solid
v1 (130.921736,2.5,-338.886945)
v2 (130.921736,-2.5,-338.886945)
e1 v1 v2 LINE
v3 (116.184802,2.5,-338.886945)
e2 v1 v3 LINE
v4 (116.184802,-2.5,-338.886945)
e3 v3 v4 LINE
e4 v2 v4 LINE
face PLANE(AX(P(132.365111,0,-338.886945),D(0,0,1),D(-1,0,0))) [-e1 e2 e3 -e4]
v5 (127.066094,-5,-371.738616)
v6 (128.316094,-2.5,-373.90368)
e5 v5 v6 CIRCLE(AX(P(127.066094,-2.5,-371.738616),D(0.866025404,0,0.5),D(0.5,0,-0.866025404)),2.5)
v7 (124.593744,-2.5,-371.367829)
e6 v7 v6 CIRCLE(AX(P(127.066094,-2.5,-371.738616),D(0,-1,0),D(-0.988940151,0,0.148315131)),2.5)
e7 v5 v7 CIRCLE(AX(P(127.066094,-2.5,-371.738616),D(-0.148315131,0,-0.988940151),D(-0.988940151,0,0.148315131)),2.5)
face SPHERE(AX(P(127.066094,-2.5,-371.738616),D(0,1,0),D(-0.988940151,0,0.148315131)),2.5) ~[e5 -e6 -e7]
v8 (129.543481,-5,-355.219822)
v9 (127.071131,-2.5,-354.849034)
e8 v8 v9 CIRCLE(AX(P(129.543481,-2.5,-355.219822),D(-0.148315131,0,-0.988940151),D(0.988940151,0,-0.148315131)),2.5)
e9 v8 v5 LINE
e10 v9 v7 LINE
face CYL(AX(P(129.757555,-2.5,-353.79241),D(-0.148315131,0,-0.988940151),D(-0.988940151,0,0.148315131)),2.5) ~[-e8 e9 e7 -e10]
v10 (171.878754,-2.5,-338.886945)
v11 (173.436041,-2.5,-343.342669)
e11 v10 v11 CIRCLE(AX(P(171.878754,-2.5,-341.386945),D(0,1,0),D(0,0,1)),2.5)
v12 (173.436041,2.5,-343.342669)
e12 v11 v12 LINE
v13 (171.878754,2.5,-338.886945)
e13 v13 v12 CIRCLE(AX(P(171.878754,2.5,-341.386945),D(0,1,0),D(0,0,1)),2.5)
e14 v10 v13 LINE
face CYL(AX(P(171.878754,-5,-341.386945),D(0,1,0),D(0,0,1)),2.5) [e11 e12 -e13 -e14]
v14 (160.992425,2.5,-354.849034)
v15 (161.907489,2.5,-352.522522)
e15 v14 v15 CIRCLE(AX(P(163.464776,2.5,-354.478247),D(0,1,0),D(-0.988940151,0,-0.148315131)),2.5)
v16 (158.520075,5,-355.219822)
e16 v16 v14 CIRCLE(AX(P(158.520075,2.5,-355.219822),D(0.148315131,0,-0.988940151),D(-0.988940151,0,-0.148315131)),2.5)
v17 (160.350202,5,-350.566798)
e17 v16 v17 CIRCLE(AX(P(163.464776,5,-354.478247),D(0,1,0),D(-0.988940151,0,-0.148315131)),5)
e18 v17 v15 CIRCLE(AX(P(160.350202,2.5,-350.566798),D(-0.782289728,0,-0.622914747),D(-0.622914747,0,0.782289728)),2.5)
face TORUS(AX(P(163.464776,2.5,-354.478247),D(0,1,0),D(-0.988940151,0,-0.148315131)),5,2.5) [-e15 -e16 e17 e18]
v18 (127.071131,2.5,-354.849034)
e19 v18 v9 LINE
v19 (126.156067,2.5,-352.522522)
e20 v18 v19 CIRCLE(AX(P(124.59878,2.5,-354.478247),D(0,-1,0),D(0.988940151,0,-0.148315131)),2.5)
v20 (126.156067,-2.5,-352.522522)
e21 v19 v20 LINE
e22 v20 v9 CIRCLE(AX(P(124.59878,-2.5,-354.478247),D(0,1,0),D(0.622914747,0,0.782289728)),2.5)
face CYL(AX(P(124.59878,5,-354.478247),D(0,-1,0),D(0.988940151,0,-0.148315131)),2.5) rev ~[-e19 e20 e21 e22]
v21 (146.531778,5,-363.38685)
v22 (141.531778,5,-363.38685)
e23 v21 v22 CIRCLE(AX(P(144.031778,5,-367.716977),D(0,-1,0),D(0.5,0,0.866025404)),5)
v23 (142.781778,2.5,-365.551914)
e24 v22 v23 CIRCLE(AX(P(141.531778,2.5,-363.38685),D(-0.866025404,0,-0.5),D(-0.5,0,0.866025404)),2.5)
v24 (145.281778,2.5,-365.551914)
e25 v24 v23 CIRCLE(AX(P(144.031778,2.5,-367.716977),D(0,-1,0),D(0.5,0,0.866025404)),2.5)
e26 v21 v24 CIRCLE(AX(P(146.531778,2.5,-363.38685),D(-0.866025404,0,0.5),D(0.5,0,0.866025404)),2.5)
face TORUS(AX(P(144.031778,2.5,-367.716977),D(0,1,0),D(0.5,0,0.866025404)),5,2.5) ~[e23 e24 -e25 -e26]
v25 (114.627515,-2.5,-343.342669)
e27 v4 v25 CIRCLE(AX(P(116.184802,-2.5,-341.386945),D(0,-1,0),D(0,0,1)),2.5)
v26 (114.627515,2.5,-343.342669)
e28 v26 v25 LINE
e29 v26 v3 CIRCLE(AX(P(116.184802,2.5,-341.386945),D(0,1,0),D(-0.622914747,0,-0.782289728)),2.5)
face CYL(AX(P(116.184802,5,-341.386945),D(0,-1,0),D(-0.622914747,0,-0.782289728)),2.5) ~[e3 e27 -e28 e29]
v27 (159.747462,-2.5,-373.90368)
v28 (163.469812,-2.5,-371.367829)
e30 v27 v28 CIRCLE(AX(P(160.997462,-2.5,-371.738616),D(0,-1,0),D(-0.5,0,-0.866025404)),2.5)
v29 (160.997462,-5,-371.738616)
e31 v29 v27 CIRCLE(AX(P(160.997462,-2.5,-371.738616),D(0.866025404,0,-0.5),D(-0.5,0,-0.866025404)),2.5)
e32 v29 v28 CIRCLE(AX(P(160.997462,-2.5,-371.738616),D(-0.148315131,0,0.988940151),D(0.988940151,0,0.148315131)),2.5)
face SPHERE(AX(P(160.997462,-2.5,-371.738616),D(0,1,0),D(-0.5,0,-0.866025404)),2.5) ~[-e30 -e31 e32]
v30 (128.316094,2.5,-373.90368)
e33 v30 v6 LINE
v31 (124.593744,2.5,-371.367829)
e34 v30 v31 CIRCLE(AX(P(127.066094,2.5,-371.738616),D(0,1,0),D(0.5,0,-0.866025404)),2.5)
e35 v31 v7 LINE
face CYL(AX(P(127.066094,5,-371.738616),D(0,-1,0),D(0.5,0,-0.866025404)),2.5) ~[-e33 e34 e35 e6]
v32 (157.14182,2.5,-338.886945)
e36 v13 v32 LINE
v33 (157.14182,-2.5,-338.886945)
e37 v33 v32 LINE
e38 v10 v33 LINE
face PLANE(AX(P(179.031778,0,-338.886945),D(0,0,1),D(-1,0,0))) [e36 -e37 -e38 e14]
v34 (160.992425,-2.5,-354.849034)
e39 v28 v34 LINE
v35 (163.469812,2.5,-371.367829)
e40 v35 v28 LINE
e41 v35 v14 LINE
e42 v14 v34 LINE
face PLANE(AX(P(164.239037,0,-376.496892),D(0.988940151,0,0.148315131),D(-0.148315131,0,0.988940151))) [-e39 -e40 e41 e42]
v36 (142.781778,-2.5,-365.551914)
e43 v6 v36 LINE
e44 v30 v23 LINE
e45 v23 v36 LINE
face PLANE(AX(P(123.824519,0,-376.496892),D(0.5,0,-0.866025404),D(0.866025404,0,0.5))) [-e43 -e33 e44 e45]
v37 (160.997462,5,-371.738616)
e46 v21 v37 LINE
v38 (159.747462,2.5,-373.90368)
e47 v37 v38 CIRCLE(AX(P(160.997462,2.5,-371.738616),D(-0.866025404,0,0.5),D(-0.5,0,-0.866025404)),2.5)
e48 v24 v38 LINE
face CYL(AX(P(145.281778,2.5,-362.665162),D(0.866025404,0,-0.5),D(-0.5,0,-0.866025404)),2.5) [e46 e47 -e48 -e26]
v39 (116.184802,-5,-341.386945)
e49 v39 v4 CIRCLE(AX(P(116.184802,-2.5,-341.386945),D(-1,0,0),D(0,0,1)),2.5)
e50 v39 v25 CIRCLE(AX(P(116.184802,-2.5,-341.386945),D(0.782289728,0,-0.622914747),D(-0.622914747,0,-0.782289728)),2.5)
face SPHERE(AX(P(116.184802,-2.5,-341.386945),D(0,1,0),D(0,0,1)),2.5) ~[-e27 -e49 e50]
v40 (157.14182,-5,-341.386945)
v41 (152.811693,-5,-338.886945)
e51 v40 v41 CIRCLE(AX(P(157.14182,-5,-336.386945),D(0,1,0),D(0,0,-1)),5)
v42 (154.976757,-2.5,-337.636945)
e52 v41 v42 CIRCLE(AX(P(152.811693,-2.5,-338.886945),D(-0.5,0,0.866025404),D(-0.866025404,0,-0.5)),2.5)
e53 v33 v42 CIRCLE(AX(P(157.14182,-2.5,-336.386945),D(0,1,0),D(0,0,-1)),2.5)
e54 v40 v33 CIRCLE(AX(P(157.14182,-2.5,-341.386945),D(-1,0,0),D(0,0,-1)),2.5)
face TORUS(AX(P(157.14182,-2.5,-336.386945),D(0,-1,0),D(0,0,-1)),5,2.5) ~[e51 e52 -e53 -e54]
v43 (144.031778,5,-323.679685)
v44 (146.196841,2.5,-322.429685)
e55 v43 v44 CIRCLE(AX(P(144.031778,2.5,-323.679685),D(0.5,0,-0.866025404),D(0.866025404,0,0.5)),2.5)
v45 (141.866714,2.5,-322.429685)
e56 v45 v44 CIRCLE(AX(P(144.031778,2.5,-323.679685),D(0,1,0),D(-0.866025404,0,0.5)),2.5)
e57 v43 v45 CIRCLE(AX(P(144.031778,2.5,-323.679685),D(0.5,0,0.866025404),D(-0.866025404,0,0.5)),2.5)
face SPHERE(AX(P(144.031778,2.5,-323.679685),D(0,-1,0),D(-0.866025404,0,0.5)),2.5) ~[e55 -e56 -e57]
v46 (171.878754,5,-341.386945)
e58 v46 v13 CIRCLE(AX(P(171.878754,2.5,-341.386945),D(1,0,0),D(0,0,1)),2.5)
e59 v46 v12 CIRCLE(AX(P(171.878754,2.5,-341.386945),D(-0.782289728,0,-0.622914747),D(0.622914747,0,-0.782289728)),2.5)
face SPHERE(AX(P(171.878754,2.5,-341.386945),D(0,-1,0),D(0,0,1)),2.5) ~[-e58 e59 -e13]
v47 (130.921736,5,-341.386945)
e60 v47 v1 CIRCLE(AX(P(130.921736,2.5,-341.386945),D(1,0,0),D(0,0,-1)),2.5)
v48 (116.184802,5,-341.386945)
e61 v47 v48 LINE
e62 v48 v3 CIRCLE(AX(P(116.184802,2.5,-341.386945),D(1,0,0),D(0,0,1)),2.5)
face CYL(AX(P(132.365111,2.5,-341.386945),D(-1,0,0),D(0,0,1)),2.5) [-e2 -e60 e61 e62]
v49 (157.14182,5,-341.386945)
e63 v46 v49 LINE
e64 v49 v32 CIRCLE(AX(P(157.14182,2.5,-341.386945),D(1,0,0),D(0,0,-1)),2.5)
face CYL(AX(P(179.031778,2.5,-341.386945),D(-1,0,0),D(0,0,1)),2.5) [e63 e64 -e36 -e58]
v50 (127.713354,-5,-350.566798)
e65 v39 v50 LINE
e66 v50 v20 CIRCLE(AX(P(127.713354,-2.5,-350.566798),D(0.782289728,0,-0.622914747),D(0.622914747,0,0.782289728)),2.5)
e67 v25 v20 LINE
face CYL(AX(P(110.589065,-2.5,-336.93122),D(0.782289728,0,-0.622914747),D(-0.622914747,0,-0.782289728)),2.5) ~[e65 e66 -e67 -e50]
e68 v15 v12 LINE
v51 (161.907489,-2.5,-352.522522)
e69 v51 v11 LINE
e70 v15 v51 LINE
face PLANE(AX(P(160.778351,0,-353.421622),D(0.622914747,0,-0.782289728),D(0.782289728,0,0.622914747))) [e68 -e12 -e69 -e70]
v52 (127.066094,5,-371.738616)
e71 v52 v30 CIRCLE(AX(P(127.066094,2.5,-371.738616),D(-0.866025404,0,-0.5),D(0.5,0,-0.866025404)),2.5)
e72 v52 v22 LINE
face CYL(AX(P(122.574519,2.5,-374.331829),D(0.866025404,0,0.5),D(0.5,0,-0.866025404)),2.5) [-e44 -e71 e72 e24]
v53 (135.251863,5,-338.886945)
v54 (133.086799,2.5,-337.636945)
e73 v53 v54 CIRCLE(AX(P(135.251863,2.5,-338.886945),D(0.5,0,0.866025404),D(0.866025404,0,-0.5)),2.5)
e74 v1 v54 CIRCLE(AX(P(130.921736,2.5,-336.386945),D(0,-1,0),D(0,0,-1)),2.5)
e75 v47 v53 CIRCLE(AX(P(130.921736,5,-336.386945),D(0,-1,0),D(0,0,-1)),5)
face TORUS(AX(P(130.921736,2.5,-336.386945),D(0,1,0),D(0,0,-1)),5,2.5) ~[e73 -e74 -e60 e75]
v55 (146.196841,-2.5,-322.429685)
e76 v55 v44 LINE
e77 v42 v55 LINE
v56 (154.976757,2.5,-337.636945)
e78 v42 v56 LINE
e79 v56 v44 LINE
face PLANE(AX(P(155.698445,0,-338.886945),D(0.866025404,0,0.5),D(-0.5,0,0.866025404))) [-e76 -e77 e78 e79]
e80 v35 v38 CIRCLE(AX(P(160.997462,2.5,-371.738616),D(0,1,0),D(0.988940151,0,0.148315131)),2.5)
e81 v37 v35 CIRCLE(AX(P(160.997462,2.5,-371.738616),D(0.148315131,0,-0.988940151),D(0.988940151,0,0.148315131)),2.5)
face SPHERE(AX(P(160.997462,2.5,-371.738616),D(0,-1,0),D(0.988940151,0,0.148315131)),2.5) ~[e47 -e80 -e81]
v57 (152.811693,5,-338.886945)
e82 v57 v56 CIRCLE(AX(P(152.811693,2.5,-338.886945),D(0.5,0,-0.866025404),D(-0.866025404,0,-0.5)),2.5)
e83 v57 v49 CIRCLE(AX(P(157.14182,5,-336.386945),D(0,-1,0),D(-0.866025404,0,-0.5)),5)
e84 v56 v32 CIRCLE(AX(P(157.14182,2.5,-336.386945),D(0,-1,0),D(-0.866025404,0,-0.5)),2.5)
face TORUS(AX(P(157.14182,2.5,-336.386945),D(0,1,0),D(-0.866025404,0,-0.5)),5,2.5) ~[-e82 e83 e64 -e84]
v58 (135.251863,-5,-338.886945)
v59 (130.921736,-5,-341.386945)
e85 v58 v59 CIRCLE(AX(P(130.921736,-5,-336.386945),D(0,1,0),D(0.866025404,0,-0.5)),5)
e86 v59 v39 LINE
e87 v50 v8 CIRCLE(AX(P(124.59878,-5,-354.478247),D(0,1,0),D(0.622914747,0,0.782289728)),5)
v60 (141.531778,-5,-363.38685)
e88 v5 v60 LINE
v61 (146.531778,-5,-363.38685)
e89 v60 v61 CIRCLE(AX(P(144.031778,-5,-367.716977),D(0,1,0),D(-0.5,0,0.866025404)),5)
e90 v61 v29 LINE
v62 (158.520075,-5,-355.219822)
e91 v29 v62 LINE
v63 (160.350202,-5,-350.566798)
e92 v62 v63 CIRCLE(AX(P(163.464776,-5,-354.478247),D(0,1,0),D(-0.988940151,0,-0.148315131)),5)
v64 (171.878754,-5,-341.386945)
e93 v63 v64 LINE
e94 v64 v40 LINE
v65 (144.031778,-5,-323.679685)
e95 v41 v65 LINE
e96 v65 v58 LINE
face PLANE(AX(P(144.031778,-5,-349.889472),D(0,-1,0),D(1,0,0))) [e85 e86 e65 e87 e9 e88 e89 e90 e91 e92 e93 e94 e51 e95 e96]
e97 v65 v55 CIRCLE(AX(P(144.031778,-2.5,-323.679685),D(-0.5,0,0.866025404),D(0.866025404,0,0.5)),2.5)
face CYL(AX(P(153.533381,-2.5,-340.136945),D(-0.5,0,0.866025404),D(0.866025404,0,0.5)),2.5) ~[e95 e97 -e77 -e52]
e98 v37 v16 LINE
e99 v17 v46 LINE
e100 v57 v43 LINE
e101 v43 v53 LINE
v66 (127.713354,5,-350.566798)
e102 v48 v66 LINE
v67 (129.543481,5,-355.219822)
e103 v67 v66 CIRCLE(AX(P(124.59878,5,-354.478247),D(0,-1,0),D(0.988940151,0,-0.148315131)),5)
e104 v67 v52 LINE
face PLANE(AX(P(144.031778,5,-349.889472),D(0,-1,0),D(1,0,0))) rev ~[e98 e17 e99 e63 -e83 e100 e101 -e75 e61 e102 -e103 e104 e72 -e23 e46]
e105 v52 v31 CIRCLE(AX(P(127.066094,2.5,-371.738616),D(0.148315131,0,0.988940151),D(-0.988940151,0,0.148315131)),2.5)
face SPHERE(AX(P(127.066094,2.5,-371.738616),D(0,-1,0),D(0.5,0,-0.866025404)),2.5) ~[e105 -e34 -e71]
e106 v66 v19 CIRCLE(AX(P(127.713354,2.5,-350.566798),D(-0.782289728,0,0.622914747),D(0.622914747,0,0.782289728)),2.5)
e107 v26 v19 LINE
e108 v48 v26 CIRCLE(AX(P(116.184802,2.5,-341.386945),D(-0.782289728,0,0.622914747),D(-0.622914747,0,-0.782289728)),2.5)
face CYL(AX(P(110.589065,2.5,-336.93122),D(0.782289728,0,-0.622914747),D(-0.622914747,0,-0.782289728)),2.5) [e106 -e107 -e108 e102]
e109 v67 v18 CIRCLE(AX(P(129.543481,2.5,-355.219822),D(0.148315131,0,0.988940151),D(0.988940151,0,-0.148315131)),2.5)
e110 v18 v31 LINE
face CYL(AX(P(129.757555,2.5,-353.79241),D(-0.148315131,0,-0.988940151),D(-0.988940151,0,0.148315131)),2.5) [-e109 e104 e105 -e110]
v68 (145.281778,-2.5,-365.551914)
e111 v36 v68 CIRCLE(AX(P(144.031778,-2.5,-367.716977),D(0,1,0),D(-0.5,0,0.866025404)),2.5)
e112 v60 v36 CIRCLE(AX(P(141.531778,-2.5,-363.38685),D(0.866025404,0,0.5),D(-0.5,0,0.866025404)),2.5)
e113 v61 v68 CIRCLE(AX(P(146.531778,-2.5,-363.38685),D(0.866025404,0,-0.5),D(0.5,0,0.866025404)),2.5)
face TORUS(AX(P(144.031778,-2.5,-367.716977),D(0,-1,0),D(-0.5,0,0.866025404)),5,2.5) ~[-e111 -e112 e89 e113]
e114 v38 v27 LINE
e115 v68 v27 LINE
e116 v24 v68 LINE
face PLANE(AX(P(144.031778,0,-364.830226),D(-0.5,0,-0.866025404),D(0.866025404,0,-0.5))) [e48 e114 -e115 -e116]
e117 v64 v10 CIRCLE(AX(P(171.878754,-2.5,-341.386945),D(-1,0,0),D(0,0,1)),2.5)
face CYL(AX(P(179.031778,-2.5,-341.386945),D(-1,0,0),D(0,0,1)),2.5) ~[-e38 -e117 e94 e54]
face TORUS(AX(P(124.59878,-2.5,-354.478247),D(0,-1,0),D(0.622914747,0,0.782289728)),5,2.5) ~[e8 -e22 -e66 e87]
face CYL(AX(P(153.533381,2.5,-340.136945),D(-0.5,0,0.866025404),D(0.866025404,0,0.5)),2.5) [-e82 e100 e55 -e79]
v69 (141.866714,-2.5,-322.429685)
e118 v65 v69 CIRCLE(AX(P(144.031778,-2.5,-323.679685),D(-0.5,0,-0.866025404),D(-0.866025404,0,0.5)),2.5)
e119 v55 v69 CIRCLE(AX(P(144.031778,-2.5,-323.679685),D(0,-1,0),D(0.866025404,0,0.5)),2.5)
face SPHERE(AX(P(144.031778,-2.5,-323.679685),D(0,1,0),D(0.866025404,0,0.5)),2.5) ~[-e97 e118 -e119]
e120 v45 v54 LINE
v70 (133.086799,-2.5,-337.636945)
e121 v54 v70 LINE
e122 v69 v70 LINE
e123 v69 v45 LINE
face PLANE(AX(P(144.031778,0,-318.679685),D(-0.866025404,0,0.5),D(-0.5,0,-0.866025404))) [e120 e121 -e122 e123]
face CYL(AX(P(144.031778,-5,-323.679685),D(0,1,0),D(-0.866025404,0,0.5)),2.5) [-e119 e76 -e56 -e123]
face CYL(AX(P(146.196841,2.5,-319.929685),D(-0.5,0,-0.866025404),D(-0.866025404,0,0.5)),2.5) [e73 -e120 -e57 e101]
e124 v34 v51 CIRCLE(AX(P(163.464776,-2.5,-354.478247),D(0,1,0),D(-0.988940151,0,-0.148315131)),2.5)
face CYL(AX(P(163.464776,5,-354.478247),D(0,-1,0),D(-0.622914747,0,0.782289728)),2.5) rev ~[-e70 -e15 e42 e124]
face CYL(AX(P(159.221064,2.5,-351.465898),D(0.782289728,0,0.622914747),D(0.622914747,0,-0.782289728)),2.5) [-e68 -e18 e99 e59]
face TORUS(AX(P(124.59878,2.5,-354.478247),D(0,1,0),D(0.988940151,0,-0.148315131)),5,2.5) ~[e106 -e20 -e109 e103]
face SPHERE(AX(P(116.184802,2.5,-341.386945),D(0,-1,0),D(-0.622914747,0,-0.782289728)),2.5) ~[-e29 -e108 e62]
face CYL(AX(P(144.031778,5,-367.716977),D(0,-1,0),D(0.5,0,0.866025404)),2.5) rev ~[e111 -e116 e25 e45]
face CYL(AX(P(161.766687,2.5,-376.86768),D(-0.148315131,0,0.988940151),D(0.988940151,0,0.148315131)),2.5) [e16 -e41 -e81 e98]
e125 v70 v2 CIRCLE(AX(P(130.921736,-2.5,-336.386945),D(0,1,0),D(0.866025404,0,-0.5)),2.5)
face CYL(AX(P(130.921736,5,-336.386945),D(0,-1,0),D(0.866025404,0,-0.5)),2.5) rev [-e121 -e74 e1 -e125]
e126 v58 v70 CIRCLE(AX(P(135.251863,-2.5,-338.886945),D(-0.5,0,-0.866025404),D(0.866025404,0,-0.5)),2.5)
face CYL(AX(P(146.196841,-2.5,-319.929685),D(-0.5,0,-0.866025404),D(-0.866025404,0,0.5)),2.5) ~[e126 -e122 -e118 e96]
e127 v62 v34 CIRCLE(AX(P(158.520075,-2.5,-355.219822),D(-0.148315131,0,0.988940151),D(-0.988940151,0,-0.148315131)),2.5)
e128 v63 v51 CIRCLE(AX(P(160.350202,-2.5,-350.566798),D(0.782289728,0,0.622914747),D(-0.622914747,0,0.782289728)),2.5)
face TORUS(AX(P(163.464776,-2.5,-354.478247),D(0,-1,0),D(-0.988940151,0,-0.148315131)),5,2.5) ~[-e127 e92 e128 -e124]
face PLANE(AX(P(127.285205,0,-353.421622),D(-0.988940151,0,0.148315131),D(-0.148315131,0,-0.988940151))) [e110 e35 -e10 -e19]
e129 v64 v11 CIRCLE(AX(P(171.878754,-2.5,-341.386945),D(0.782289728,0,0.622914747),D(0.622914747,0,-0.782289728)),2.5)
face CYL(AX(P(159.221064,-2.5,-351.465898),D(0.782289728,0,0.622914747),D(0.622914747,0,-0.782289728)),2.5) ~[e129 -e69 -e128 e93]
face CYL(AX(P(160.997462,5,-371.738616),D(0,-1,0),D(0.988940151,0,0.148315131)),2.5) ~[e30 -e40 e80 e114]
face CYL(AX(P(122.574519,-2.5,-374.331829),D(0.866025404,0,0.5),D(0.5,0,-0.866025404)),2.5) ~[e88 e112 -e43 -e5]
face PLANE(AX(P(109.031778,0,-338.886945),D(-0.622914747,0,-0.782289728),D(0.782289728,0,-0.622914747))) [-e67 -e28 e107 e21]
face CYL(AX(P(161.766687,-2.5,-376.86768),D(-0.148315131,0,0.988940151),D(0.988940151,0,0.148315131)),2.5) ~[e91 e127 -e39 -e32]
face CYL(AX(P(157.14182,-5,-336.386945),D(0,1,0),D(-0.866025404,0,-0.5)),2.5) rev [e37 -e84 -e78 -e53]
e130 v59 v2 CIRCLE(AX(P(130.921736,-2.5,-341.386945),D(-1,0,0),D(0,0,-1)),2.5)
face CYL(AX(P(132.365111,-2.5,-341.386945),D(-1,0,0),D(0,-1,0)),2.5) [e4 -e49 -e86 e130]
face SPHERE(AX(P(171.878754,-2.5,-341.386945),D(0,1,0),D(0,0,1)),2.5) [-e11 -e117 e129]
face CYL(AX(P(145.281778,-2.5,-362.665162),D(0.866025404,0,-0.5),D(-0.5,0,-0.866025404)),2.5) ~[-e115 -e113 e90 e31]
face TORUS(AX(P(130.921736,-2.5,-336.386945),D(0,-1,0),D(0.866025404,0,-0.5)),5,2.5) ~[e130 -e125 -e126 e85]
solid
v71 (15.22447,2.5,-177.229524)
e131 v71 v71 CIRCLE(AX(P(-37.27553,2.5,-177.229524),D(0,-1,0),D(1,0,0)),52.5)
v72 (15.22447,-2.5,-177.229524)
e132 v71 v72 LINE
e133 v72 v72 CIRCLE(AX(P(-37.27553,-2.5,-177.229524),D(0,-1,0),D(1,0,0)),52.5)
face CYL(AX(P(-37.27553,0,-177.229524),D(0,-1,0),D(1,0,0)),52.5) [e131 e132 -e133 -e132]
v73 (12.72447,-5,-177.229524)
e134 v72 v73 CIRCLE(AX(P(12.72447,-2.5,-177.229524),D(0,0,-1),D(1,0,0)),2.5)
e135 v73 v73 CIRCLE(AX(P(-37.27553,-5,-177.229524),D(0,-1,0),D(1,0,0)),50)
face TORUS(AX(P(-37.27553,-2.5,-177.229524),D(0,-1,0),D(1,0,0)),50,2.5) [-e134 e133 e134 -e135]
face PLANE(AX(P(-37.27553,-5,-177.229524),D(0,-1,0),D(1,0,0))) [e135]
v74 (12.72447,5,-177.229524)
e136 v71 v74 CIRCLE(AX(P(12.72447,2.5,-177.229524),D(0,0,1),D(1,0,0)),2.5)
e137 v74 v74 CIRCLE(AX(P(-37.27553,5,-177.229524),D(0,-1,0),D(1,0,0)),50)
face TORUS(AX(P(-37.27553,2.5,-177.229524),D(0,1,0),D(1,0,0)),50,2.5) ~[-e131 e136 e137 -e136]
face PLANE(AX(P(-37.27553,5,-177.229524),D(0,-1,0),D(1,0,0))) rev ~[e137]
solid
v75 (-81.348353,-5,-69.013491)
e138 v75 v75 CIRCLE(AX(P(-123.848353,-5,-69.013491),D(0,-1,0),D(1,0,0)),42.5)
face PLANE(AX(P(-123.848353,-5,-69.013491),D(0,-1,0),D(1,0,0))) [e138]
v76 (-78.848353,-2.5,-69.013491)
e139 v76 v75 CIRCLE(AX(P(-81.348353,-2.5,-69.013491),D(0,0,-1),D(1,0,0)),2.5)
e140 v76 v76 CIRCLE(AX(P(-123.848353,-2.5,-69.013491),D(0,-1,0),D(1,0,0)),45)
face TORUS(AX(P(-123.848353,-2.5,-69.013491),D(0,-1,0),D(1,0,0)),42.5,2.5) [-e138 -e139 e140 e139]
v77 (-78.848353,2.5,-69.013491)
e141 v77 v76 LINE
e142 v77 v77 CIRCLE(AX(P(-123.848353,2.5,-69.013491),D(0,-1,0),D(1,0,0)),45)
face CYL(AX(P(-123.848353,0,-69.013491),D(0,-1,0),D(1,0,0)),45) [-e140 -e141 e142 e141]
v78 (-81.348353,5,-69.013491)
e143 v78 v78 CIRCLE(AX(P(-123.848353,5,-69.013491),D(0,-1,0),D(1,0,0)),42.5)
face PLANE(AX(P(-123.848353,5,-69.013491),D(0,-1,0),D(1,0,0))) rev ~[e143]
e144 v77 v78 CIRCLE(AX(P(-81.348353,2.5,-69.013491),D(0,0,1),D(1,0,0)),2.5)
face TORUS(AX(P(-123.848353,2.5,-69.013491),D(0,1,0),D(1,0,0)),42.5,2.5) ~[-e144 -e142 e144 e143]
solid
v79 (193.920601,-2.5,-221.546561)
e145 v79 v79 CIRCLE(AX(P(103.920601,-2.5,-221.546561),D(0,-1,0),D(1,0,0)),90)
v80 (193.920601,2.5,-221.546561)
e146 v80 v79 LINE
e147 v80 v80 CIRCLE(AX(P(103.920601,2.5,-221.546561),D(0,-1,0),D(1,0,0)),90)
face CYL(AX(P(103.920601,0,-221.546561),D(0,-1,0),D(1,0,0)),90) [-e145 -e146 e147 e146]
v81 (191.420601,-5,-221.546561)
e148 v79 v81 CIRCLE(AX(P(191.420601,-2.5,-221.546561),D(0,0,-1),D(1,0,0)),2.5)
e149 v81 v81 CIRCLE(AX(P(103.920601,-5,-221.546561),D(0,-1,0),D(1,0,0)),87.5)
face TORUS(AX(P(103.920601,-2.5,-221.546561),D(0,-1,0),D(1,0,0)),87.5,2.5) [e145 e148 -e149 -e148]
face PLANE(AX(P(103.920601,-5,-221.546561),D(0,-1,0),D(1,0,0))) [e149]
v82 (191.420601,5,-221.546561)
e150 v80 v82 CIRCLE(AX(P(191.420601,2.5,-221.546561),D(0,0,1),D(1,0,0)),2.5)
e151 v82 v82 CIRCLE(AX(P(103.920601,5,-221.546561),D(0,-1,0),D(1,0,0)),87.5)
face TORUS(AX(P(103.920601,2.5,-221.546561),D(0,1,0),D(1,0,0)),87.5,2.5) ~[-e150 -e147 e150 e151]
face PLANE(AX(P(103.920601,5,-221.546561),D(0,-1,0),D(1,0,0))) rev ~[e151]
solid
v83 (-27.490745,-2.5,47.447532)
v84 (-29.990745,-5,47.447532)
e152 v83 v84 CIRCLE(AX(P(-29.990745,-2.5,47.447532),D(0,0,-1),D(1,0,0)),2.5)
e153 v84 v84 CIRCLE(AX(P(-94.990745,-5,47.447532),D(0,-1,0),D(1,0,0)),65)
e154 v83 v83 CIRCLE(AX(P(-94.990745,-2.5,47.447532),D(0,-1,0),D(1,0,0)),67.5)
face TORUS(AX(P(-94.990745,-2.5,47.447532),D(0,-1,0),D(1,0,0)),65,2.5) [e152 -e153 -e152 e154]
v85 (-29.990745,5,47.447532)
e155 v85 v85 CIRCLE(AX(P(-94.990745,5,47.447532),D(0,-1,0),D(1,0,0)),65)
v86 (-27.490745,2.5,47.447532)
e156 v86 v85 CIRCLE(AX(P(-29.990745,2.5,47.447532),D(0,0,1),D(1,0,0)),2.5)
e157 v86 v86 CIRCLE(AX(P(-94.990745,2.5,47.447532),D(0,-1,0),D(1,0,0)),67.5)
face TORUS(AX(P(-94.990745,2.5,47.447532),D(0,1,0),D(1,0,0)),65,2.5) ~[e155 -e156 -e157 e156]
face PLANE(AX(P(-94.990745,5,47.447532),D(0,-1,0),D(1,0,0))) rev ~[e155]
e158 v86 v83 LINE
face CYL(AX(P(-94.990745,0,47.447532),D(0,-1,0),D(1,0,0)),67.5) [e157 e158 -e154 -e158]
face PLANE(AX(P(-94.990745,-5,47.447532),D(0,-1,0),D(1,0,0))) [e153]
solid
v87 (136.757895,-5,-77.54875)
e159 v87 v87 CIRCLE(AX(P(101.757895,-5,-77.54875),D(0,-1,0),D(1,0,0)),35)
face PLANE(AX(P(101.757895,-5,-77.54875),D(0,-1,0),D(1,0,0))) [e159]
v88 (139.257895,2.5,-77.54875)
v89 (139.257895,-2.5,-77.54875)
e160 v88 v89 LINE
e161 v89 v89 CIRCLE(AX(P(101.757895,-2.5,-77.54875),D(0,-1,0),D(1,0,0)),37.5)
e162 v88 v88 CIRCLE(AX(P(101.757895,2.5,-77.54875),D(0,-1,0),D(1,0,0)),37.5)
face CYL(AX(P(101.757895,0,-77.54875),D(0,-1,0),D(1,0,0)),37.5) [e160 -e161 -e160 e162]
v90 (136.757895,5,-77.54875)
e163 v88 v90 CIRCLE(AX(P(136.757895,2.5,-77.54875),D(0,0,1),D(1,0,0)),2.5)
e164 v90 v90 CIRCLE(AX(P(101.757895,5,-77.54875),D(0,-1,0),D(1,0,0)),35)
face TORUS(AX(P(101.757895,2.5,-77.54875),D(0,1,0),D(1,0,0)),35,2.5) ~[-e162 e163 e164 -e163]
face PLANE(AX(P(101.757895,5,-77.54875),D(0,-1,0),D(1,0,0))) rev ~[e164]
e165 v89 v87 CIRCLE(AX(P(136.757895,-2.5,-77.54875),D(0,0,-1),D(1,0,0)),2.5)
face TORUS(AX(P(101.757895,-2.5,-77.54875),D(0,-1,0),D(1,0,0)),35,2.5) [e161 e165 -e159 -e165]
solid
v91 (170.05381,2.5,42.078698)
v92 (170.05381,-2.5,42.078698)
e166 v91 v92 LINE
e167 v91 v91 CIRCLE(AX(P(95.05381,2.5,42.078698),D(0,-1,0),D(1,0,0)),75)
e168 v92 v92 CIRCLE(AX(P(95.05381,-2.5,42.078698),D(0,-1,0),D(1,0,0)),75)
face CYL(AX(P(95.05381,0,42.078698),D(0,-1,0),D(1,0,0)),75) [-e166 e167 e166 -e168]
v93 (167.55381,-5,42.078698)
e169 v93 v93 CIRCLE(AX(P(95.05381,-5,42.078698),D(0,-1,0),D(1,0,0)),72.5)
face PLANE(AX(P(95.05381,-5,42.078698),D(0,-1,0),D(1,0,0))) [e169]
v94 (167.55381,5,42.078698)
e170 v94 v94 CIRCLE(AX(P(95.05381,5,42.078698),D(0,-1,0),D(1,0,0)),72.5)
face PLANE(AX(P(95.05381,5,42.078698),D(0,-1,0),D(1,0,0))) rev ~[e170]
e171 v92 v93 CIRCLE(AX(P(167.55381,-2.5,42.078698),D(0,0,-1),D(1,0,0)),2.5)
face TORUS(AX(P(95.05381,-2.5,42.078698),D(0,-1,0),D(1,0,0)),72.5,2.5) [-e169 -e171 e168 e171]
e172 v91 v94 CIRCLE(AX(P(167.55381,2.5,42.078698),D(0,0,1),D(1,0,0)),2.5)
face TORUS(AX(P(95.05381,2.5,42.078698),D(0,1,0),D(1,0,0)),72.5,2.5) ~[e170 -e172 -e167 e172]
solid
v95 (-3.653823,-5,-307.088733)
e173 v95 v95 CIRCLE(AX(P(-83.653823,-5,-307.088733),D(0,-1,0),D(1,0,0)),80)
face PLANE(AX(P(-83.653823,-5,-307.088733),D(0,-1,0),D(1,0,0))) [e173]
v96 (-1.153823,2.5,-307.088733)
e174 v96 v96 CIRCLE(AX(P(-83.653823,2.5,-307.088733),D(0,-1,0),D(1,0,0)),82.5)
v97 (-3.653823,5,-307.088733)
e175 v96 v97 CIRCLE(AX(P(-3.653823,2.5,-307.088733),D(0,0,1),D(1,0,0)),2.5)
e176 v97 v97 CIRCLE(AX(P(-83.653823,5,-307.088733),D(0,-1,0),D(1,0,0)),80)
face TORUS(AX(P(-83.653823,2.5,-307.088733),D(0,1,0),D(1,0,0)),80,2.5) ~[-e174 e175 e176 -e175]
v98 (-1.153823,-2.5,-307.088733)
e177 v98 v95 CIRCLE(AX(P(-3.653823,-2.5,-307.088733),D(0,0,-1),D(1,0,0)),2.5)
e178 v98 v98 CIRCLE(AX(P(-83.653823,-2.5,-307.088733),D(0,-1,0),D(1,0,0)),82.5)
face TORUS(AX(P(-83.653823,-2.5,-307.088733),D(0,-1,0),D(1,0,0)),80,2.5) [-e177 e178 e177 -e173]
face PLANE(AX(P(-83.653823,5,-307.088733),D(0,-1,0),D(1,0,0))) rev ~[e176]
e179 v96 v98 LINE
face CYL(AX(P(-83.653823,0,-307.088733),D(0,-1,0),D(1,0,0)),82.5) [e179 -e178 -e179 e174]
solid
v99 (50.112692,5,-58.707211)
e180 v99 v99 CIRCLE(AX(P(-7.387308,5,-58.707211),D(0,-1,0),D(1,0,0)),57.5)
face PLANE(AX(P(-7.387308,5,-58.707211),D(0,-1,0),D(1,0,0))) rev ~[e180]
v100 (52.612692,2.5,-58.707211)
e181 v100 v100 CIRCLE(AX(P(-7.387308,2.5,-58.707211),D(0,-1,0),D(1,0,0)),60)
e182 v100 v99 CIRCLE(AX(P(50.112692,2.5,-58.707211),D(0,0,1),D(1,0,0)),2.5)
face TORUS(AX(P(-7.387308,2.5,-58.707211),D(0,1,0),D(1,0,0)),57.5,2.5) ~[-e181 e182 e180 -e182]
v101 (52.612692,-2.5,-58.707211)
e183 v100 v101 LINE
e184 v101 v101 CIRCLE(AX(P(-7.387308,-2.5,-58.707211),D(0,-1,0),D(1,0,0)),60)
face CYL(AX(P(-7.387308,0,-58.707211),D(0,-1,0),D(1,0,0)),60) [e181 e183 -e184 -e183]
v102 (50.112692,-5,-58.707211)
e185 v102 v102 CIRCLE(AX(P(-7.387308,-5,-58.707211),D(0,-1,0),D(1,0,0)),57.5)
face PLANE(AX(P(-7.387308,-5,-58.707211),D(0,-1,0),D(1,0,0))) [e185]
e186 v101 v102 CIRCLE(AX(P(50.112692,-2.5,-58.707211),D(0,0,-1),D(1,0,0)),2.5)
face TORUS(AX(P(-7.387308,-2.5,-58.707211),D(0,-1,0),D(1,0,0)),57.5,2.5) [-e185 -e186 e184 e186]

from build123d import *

# Parameters (mm, degrees)
F0_R     = 67.5
F1_DEPTH = 5
F0_R_2   = 75
F0_R_3   = 45
F0_R_4   = 60
F0_R_5   = 37.5
F0_R_6   = 90
F0_R_7   = 52.5
F0_R_8   = 82.5
F2_R     = 2.5
F2_2_R   = 2.5
F2_3_R   = 2.5
F2_4_R   = 2.5
F2_5_R   = 2.5
F2_6_R   = 2.5
F2_7_R   = 2.5
F2_8_R   = 2.5
F2_9_R   = 2.5


with BuildPart() as f1:
    # F0 (on Front) → F1 (new body, symmetric)
    with BuildSketch(Plane.XZ):
        with Locations((-94.9907451868, 47.4475324154)):
            Circle(F0_R)
    extrude(amount=F1_DEPTH, both=True)

    # F2#7
    f2_7_edges = [f1.edges().sort_by_distance(p)[0] for p in [
        (-162.490745, -5, 47.447532),
        (-162.490745, 5, 47.447532),
    ]]
    fillet(f2_7_edges, radius=F2_7_R)


with BuildPart() as f1b:
    # F0 (on Front) → F1, piece 2 (new body, symmetric)
    with BuildSketch(Plane.XZ):
        with Locations((95.0538104838, 42.0786983039)):
            Circle(F0_R_2)
    extrude(amount=F1_DEPTH, both=True)

    # F2#6
    f2_6_edges = [f1b.edges().sort_by_distance(p)[0] for p in [
        (20.05381, -5, 42.078698),
        (20.05381, 5, 42.078698),
    ]]
    fillet(f2_6_edges, radius=F2_6_R)


with BuildPart() as f1c:
    # F0 (on Front) → F1, piece 3 (new body, symmetric)
    with BuildSketch(Plane.XZ):
        with Locations((-123.8483525813, -69.0134912729)):
            Circle(F0_R_3)
    extrude(amount=F1_DEPTH, both=True)

    # F2#8
    f2_8_edges = [f1c.edges().sort_by_distance(p)[0] for p in [
        (-168.848353, -5, -69.013491),
        (-168.848353, 5, -69.013491),
    ]]
    fillet(f2_8_edges, radius=F2_8_R)


with BuildPart() as f1d:
    # F0 (on Front) → F1, piece 4 (new body, symmetric)
    with BuildSketch(Plane.XZ):
        with Locations((-7.3873084038, -58.7072111666)):
            Circle(F0_R_4)
    extrude(amount=F1_DEPTH, both=True)

    # F2#4
    f2_4_edges = [f1d.edges().sort_by_distance(p)[0] for p in [
        (-67.387308, -5, -58.707211),
        (-67.387308, 5, -58.707211),
    ]]
    fillet(f2_4_edges, radius=F2_4_R)


with BuildPart() as f1e:
    # F0 (on Front) → F1, piece 5 (new body, symmetric)
    with BuildSketch(Plane.XZ):
        with Locations((101.7578945838, -77.5487500801)):
            Circle(F0_R_5)
    extrude(amount=F1_DEPTH, both=True)

    # F2#5
    f2_5_edges = [f1e.edges().sort_by_distance(p)[0] for p in [
        (64.257895, -5, -77.54875),
        (64.257895, 5, -77.54875),
    ]]
    fillet(f2_5_edges, radius=F2_5_R)


with BuildPart() as f1f:
    # F0 (on Front) → F1, piece 6 (new body, symmetric)
    with BuildSketch(Plane.XZ):
        with Locations((103.9206013083, -221.5465605259)):
            Circle(F0_R_6)
    extrude(amount=F1_DEPTH, both=True)

    # F2#2
    f2_2_edges = [f1f.edges().sort_by_distance(p)[0] for p in [
        (13.920601, -5, -221.546561),
        (13.920601, 5, -221.546561),
    ]]
    fillet(f2_2_edges, radius=F2_2_R)


with BuildPart() as f1g:
    # F0 (on Front) → F1, piece 7 (new body, symmetric)
    with BuildSketch(Plane.XZ):
        with Locations((-37.2755303979, -177.2295236588)):
            Circle(F0_R_7)
    extrude(amount=F1_DEPTH, both=True)

    # F2#3
    f2_3_edges = [f1g.edges().sort_by_distance(p)[0] for p in [
        (-89.77553, -5, -177.229524),
        (-89.77553, 5, -177.229524),
    ]]
    fillet(f2_3_edges, radius=F2_3_R)


with BuildPart() as f1h:
    # F0 (on Front) → F1, piece 8 (new body, symmetric)
    with BuildSketch(Plane.XZ):
        with Locations((-83.6538225412, -307.0887327194)):
            Circle(F0_R_8)
    extrude(amount=F1_DEPTH, both=True)

    # F2
    f2_edges = [f1h.edges().sort_by_distance(p)[0] for p in [
        (-166.153823, -5, -307.088733),
        (-166.153823, 5, -307.088733),
    ]]
    fillet(f2_edges, radius=F2_R)


with BuildPart() as f1i:
    # F0 (on Front) → F1, piece 9 (new body, symmetric)
    with BuildSketch(Plane.XZ):
        Polygon((144.0317779779, -318.6796853373), (132.3651113113, -338.8869447589), (109.0317779779, -338.8869447589), (127.2852049566, -353.4216221884), (123.8245185563, -376.4968923728), (144.0317779779, -364.8302257061), (164.2390373996, -376.4968923728), (160.7783509992, -353.4216221884), (179.0317779779, -338.8869447589), (155.6984446446, -338.8869447589), align=None)
    extrude(amount=F1_DEPTH, both=True)

    # F2#9
    f2_9_edges = [f1i.edges().sort_by_distance(p)[0] for p in [
        (167.365111, -5, -338.886945),
        (149.865111, -5, -328.783315),
        (138.198445, -5, -328.783315),
        (120.698445, -5, -338.886945),
        (118.158491, -5, -346.154283),
        (125.554862, -5, -364.959257),
        (133.928148, -5, -370.663559),
        (154.135408, -5, -370.663559),
        (162.508694, -5, -364.959257),
        (169.905064, -5, -346.154283),
        (144.031778, 0, -364.830226),
        (154.135408, 5, -370.663559),
        (164.239037, 0, -376.496892),
        (123.824519, 0, -376.496892),
        (133.928148, 5, -370.663559),
        (169.905064, 5, -346.154283),
        (179.031778, 0, -338.886945),
        (160.778351, 0, -353.421622),
        (162.508694, 5, -364.959257),
        (167.365111, 5, -338.886945),
        (155.698445, 0, -338.886945),
        (149.865111, 5, -328.783315),
        (144.031778, 0, -318.679685),
        (138.198445, 5, -328.783315),
        (132.365111, 0, -338.886945),
        (120.698445, 5, -338.886945),
        (109.031778, 0, -338.886945),
        (118.158491, 5, -346.154283),
        (127.285205, 0, -353.421622),
        (125.554862, 5, -364.959257),
    ]]
    fillet(f2_9_edges, radius=F2_9_R)


solid = Compound([f1.part, f1b.part, f1c.part, f1d.part, f1e.part, f1f.part, f1g.part, f1h.part, f1i.part])
